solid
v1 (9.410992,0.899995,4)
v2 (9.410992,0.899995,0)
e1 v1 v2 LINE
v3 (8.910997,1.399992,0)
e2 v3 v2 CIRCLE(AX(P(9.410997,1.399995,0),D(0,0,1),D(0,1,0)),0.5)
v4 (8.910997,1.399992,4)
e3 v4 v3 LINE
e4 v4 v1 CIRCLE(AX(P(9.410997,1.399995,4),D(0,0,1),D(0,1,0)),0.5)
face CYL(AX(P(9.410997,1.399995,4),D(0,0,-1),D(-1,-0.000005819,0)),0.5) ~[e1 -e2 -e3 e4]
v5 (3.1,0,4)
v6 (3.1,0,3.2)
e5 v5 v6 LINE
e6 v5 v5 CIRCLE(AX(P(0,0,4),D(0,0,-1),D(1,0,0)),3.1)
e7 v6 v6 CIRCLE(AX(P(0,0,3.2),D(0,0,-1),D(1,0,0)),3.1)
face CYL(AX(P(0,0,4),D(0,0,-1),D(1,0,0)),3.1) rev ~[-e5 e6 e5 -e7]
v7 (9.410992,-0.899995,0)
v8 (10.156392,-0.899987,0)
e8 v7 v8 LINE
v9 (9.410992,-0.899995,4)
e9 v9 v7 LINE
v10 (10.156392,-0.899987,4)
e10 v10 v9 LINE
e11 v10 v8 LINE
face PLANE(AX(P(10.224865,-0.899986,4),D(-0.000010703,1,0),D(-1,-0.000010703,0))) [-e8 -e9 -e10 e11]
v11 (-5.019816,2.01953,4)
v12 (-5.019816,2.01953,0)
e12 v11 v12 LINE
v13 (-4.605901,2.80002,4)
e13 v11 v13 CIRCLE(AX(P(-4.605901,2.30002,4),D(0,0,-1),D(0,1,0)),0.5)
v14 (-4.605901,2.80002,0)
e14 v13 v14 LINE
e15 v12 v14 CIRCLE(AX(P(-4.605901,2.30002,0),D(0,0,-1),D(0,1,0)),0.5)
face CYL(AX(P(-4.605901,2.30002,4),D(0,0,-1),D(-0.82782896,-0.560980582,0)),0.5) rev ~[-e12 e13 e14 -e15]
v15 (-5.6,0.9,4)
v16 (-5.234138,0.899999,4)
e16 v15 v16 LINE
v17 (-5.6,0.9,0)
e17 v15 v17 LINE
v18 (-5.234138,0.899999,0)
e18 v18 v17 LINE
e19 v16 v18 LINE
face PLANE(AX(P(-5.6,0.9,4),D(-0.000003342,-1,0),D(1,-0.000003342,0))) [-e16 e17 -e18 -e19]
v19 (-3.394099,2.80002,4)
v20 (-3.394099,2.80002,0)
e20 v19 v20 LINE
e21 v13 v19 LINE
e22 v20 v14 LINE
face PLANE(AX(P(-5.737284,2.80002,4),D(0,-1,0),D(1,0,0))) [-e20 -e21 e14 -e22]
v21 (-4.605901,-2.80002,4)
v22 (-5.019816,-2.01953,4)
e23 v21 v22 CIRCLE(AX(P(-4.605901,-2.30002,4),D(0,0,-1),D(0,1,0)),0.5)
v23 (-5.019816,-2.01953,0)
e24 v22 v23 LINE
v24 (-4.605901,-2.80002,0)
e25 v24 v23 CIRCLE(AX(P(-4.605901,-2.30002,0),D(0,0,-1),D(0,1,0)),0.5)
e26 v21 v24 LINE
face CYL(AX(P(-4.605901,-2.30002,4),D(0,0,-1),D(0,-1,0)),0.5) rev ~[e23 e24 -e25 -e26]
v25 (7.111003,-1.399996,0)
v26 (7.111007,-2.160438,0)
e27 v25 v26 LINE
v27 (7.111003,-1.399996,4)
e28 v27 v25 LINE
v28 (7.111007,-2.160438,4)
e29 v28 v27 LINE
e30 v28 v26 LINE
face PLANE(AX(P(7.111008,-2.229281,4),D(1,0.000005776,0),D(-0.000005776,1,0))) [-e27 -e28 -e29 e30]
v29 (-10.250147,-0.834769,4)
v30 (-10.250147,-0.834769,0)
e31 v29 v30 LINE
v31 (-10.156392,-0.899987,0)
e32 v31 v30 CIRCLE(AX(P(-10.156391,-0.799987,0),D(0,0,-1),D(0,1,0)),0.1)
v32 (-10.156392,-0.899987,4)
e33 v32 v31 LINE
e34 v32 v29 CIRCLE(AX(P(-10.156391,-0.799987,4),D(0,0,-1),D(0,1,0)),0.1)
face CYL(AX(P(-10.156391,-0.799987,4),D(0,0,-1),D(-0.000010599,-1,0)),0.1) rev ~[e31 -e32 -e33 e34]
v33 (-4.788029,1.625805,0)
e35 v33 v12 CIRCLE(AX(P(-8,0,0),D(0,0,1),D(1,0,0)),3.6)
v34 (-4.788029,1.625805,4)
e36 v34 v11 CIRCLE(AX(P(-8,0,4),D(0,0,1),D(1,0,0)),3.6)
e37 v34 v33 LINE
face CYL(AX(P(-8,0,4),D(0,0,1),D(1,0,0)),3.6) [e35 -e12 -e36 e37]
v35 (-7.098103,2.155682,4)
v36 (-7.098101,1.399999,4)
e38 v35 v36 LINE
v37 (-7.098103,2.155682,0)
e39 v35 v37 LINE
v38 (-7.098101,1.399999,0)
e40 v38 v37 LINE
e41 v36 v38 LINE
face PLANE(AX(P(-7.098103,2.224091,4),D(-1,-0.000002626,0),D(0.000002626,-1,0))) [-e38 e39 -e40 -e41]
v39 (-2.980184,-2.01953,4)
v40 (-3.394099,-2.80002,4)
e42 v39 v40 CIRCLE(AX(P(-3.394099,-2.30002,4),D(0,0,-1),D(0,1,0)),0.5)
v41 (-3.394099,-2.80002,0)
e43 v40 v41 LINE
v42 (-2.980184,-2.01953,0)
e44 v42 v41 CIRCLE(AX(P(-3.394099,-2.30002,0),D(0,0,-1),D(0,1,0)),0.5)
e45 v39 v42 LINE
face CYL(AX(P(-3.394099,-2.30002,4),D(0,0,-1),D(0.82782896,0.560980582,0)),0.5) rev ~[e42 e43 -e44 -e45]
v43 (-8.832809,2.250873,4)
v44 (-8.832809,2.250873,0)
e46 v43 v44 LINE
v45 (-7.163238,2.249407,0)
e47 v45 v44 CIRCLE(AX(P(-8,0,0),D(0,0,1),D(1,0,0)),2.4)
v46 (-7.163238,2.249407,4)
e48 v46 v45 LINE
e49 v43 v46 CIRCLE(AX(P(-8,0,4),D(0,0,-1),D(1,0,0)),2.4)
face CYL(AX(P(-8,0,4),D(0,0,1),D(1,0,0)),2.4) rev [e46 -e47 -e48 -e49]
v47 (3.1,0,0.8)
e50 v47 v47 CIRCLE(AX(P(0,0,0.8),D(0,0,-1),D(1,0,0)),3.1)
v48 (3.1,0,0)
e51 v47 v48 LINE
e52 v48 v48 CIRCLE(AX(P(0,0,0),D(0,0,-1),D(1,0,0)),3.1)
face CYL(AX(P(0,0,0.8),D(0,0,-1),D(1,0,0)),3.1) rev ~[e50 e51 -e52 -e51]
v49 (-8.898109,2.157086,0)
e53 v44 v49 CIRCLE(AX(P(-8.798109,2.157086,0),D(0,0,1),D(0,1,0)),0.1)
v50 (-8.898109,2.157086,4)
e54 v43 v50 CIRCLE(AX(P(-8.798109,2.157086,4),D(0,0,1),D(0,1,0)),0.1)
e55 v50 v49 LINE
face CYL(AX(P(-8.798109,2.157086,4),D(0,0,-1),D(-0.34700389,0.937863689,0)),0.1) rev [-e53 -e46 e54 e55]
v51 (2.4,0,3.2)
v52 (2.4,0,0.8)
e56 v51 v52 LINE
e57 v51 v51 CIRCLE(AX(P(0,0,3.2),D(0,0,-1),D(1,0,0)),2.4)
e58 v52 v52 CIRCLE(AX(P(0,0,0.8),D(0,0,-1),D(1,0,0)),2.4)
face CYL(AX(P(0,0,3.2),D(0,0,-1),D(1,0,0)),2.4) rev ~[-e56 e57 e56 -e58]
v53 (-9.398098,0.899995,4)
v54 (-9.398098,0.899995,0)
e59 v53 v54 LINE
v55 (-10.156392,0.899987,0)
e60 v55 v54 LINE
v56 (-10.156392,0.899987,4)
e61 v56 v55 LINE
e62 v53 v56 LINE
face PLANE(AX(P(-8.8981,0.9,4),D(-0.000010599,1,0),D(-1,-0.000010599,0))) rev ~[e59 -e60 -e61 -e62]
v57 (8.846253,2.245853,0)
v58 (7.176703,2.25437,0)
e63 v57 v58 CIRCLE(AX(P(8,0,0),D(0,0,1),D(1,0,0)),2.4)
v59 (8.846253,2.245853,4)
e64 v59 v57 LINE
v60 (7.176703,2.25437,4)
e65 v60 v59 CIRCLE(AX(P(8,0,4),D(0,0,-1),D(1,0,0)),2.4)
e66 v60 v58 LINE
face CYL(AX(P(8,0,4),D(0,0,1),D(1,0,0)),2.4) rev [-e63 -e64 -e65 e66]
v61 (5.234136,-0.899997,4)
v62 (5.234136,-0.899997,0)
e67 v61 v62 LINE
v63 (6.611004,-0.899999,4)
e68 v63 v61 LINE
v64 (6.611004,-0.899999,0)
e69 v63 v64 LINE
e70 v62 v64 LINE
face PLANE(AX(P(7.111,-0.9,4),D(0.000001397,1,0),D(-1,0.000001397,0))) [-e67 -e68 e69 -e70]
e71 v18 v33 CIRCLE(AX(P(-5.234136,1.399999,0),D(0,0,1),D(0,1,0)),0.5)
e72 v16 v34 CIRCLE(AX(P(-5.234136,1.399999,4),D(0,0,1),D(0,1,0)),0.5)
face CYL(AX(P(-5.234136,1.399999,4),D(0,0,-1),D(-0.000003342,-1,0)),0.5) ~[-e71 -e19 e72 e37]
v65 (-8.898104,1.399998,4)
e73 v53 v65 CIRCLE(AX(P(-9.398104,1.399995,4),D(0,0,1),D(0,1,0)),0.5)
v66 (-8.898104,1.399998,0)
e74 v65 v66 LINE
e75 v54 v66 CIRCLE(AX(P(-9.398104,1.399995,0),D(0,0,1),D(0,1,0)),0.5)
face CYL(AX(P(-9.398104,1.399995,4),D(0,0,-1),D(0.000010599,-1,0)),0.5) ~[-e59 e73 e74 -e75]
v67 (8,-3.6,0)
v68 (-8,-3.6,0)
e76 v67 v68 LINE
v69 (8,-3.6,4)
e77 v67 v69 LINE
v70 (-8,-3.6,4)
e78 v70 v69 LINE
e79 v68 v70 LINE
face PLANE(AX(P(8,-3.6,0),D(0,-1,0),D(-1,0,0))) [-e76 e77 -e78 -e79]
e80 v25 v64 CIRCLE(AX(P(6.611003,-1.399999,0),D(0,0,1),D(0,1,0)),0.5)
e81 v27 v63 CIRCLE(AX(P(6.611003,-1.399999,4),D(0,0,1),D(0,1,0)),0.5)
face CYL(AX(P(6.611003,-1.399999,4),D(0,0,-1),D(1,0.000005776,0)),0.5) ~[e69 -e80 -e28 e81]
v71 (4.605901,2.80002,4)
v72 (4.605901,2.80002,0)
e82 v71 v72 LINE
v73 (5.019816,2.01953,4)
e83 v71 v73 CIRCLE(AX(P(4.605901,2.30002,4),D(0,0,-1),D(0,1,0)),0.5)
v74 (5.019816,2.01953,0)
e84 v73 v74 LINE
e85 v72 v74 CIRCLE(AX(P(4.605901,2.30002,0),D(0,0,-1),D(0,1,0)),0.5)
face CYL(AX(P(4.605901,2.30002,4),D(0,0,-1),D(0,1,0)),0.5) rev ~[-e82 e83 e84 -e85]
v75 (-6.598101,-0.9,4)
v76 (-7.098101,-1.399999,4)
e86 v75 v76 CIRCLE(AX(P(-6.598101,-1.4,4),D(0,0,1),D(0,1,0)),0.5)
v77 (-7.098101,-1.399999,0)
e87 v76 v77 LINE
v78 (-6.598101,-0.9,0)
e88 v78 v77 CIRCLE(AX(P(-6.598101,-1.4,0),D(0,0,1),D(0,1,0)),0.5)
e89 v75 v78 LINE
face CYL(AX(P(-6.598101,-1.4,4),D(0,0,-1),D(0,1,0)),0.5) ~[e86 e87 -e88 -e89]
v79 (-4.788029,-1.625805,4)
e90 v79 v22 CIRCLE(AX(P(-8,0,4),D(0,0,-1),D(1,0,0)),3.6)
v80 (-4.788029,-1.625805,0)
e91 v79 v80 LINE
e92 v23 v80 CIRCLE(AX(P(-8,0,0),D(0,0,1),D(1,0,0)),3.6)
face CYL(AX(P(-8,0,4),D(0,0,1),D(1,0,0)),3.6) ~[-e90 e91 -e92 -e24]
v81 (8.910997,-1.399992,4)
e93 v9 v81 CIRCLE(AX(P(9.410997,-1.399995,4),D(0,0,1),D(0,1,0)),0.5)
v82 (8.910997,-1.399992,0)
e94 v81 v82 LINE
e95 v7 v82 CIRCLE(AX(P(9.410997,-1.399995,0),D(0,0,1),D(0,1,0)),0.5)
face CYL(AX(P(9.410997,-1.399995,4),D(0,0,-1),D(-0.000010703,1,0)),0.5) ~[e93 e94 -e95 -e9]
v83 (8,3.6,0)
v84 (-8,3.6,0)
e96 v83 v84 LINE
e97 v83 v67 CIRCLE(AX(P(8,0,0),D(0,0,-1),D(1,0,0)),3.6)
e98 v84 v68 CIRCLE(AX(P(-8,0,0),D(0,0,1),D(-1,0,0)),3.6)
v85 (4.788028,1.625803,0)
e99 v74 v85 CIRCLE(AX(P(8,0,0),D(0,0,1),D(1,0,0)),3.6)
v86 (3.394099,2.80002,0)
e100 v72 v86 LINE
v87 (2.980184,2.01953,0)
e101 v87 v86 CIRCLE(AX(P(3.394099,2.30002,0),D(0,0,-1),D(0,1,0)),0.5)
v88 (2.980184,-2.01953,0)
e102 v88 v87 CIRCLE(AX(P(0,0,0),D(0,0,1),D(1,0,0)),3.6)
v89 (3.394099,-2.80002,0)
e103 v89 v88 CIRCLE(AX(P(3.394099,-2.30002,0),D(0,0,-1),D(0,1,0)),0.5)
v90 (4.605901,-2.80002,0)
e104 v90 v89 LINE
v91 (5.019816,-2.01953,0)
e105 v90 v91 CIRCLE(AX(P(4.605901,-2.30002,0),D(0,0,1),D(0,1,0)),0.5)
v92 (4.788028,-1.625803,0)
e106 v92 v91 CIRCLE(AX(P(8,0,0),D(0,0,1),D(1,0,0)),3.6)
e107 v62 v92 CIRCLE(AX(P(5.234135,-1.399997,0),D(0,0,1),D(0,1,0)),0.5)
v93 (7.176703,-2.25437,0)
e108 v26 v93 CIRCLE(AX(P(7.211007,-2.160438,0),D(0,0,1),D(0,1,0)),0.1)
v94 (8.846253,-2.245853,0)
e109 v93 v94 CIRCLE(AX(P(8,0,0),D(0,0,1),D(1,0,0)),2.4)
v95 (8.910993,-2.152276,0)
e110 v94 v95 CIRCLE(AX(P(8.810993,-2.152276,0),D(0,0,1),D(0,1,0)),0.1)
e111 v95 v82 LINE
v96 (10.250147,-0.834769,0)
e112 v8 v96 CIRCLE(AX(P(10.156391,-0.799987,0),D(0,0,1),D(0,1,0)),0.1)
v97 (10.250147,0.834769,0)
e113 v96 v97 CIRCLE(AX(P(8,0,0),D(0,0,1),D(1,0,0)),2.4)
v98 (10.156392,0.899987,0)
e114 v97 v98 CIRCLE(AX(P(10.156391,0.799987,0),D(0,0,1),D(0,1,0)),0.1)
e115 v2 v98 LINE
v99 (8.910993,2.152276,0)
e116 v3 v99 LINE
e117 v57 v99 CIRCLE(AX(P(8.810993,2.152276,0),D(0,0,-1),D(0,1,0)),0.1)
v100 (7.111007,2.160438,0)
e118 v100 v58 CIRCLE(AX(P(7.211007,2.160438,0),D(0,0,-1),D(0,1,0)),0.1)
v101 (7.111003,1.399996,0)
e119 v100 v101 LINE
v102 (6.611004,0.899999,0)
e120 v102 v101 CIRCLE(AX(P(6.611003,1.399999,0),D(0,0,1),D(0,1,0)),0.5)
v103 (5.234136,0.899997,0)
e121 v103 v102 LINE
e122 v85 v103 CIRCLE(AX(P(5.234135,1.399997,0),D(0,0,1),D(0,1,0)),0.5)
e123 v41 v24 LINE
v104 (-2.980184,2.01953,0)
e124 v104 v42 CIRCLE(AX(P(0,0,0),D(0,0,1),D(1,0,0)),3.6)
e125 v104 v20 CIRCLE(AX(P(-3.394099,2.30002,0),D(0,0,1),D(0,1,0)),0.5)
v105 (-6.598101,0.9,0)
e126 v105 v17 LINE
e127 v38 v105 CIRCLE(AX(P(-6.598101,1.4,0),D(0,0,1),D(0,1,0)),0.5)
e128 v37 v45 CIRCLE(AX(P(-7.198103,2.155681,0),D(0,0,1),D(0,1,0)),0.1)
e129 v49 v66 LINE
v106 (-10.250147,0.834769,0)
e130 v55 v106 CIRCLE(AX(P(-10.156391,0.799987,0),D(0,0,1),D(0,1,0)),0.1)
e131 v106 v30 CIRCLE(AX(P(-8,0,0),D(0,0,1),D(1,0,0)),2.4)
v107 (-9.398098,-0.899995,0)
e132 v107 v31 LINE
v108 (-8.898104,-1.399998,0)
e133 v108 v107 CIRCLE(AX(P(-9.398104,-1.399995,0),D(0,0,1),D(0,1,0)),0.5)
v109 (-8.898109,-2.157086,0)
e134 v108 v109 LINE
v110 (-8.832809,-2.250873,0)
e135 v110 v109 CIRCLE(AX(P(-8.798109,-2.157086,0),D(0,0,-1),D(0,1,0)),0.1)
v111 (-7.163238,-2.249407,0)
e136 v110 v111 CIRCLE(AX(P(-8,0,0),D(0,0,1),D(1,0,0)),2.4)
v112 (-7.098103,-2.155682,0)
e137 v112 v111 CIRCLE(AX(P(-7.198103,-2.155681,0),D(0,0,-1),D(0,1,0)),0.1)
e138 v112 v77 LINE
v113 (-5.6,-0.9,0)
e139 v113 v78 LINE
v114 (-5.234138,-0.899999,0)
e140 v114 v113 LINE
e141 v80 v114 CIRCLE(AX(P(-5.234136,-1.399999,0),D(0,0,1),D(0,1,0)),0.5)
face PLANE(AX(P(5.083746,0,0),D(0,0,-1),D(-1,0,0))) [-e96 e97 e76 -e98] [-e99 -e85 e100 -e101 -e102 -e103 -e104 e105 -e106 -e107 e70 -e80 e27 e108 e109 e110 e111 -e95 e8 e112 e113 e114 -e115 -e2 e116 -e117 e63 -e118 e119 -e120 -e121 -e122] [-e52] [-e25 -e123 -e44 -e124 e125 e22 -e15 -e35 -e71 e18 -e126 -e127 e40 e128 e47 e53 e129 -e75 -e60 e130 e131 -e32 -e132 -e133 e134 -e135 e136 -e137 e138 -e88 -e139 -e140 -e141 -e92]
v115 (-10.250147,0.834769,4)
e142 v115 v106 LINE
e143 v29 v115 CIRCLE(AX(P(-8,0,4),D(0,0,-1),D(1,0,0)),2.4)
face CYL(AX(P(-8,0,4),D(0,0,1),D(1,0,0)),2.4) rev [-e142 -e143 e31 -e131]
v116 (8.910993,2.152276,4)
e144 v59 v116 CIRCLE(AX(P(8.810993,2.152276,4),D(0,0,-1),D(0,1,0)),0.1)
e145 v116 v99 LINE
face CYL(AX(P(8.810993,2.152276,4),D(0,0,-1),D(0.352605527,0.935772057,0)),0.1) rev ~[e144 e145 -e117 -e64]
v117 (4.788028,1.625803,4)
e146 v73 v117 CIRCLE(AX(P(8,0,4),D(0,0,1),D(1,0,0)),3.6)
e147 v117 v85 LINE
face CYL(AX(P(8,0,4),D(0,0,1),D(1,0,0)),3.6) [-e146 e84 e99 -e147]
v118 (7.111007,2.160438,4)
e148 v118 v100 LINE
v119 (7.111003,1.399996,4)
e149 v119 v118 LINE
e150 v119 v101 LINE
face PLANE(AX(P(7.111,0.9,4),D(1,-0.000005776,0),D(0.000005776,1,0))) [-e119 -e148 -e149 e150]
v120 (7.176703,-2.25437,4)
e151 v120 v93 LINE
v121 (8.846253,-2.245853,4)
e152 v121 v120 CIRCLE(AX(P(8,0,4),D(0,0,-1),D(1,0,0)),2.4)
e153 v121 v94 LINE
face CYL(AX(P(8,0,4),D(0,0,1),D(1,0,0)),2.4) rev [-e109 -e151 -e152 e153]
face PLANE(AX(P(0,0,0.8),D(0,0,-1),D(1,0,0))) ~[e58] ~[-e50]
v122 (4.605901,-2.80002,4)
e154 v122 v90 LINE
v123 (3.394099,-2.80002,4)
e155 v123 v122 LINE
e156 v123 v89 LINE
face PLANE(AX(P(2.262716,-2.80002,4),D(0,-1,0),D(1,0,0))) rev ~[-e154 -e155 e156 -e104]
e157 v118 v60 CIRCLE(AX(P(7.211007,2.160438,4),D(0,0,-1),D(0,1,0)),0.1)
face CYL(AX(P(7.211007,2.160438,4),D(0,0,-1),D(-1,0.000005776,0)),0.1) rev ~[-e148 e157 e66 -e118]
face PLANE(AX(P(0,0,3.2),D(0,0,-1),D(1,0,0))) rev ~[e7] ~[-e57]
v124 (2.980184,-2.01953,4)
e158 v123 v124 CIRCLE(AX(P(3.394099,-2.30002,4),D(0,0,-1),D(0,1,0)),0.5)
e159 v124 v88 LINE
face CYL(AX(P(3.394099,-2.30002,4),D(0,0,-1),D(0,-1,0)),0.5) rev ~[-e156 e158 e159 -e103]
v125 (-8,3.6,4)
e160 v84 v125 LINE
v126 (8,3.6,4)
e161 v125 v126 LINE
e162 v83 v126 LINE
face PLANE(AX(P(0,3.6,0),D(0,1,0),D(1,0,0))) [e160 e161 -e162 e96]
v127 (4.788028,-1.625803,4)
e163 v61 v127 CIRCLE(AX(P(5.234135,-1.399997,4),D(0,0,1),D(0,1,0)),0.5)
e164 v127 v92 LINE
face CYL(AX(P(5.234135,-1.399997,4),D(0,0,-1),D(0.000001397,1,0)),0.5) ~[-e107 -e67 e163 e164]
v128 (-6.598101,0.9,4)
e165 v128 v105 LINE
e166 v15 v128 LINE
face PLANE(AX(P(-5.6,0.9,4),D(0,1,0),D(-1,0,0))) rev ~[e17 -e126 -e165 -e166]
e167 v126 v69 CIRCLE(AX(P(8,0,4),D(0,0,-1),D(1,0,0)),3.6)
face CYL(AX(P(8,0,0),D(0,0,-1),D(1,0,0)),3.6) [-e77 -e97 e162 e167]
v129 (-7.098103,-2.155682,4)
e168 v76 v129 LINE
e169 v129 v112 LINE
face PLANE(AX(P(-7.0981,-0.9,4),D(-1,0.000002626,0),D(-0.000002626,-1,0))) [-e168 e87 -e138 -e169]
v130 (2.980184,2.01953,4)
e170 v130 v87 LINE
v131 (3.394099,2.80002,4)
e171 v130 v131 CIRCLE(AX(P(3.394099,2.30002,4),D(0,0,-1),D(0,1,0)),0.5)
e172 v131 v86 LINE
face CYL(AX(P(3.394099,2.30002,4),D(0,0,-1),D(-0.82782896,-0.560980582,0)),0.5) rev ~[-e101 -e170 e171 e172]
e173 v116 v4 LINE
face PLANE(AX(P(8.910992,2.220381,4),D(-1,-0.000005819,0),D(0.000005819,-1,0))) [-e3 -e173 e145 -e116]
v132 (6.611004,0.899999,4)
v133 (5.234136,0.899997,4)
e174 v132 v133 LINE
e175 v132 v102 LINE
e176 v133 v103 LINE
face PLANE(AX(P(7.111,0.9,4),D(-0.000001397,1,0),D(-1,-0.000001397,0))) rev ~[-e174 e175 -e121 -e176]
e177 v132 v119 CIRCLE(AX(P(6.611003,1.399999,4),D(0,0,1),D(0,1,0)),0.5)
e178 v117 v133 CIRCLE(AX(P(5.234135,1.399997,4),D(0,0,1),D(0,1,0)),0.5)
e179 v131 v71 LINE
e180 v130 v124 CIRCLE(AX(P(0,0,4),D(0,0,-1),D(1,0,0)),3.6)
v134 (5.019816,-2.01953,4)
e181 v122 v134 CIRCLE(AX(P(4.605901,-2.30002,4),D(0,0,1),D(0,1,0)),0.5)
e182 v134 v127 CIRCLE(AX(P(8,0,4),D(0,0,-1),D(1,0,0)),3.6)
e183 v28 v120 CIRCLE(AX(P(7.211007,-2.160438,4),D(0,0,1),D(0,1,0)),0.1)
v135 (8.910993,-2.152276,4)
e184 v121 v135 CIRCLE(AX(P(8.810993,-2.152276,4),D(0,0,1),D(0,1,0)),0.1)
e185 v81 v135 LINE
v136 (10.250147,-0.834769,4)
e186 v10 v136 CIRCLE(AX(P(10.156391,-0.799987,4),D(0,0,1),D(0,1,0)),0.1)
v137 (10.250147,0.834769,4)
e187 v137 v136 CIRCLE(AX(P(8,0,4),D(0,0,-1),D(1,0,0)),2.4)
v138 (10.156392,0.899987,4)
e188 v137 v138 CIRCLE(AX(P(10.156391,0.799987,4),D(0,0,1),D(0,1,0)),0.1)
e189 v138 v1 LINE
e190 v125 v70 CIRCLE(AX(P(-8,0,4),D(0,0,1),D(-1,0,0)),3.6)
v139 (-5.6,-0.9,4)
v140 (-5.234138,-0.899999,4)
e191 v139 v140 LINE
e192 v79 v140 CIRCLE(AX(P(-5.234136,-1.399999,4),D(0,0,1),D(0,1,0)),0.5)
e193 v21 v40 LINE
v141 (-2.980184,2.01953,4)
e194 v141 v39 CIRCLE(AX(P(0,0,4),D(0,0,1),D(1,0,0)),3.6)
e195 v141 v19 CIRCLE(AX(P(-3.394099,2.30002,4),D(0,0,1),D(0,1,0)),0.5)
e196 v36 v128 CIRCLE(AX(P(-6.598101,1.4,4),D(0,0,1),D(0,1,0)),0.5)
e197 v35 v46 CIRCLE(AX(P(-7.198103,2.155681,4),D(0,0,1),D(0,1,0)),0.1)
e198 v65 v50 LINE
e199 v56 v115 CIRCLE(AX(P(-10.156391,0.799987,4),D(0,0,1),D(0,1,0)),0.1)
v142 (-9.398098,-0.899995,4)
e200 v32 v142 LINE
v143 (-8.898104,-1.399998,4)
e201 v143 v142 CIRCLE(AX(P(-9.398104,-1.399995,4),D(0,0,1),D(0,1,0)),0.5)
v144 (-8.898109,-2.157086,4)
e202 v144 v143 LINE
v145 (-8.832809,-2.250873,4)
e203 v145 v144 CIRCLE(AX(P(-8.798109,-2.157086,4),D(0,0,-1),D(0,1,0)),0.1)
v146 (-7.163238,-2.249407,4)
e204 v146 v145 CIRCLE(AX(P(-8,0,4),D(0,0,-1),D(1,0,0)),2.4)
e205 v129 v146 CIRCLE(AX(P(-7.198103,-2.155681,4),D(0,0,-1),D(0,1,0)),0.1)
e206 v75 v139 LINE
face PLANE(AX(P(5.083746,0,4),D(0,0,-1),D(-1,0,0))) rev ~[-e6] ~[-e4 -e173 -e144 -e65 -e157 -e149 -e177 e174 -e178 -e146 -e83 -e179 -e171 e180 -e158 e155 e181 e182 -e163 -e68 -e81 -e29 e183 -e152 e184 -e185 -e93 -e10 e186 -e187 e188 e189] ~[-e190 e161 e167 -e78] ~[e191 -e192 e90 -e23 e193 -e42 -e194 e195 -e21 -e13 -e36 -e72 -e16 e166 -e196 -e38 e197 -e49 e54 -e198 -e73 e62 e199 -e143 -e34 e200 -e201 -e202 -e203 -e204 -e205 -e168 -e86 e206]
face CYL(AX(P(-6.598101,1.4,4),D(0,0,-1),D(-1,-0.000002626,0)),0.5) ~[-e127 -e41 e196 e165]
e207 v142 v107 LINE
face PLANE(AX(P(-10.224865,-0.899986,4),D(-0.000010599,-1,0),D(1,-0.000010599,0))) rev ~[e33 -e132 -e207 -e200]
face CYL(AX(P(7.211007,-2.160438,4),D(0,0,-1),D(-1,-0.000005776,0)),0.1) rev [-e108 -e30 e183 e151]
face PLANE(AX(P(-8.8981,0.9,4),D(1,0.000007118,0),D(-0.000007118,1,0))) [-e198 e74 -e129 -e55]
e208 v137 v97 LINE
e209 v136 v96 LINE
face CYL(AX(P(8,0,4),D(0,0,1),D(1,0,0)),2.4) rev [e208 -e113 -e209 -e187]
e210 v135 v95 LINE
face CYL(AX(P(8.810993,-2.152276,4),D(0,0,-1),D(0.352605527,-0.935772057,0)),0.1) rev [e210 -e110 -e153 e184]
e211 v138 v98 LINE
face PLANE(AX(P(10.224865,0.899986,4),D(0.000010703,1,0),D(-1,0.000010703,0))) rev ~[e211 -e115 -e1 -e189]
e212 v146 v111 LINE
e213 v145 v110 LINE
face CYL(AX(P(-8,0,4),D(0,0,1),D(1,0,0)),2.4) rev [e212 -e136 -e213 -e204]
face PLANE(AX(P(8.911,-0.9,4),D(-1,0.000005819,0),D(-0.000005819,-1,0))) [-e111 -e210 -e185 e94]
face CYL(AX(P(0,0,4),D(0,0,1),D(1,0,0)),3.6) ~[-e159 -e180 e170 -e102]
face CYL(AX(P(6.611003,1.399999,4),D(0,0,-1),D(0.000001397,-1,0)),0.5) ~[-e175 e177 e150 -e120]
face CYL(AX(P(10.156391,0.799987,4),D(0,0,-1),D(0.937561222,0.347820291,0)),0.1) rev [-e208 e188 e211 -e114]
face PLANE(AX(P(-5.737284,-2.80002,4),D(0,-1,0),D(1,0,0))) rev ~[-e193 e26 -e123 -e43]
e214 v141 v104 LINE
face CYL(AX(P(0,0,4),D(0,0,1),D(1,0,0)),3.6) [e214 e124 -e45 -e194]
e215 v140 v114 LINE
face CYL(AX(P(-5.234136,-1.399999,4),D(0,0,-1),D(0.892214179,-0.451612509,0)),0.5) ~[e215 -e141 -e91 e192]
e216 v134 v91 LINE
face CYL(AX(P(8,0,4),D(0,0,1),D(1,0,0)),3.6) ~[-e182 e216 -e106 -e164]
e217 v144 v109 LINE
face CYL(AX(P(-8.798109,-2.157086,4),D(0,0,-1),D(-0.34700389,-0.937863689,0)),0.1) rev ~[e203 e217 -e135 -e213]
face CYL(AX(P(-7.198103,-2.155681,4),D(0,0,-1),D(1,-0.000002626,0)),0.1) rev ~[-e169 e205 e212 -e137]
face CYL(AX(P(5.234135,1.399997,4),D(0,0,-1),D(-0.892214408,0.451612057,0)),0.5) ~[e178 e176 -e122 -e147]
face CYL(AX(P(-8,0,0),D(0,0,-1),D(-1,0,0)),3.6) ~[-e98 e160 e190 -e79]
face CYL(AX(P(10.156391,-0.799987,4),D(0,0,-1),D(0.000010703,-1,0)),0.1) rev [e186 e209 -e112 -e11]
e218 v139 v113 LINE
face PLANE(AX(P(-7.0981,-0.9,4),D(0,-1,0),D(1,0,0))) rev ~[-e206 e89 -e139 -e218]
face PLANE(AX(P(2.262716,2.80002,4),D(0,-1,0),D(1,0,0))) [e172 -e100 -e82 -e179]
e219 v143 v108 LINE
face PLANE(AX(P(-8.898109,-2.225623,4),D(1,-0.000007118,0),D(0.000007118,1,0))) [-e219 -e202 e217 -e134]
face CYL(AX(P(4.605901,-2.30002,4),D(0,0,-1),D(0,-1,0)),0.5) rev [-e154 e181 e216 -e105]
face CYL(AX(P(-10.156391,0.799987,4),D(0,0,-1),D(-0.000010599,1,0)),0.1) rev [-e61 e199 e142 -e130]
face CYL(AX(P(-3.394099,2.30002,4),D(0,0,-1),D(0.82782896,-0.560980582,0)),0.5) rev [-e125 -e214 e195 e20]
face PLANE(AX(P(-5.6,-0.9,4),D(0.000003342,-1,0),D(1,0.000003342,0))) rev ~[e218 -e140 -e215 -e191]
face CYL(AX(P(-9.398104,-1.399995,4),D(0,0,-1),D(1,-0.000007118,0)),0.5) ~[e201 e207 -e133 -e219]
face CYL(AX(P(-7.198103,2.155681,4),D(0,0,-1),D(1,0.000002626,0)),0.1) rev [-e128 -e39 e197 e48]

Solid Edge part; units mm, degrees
sketch "Sketch1" plane through (0, 0, 0) normal (0, 0, 1) x (1, 0, 0)
  line L0 (0, 0) -> (0, 3.6)
  line L1 (0, 3.6) -> (8, 3.6)
  line L2 (8, -3.6) -> (0, -3.6)
  line L3 (0, -3.6) -> (0, 0)
  arc A0 (8, 3.6) -> (8, -3.6) centre (8, 0) cw
extrude "ExtrudedProtrusion_1" add sketch "Sketch1" along normal blind 4
mirror "Mirror1" about plane through (0, 0, 0) normal (-1, 0, 0) of "ExtrudedProtrusion_1"
sketch "Sketch2" plane through (0, 0, 0) normal (0, -1, 0) x (1, 0, 0)
  line L0 (0, 0) -> (0, 4)
  line L1 (0, 4) -> (3.1, 4)
  line L2 (3.1, 4) -> (3.1, 3.2)
  line L3 (3.1, 3.2) -> (2.4, 3.2)
  line L4 (2.4, 3.2) -> (2.4, 0.8)
  line L5 (2.4, 0.8) -> (3.1, 0.8)
  line L6 (3.1, 0.8) -> (3.1, 0)
  line L7 (3.1, 0) -> (0, 0)
revolve "RevolvedCutout1" cut sketch "Sketch2" angle 360 about axis through (0, 0, 54) along (0, 0, -1)
sketch "Sketch3" plane through (0, 0, 4) normal (0, 0, 1) x (1, 0, 0)
  line L0 (-5.7373, 2.8) -> (-2.2627, 2.8)
  line L1 (-5.7373, -2.8) -> (-2.2627, -2.8)
  arc A0 (-4.5143, -0.9) -> (-5.7373, -2.8) centre (-8, 0) cw
  line L2 (-5.6, -0.9) -> (-4.5143, -0.9)
  line L3 (-7.0981, -0.9) -> (-5.6, -0.9)
  line L4 (-7.0981, -0.9) -> (-7.0981, -2.2241)
  arc A1 (-7.0981, -2.2241) -> (-8.8981, -2.2256) centre (-8, 0) cw
  line L5 (-8.8981, -2.2256) -> (-8.8981, -0.9)
  line L6 (-10.2249, -0.9) -> (-8.8981, -0.9)
  arc A2 (-10.2249, -0.9) -> (-10.2249, 0.9) centre (-8, 0) cw
  line L7 (-8.8981, 0.9) -> (-10.2249, 0.9)
  line L8 (-8.8981, 0.9) -> (-8.8981, 2.2256)
  line L9 (-7.0981, 2.2241) -> (-7.0981, 0.9)
  line L10 (-5.6, 0.9) -> (-7.0981, 0.9)
  line L11 (-5.6, 0.9) -> (-4.5143, 0.9)
  arc A3 (-4.5143, 0.9) -> (-5.7373, 2.8) centre (-8, 0) ccw
  arc A4 (-8.8981, 2.2256) -> (-7.0981, 2.2241) centre (-8, 0) cw
  arc A5 (-2.2627, 2.8) -> (-2.2627, -2.8) centre (0, 0) ccw
  line L12 (2.2627, -2.8) -> (5.7373, -2.8)
  arc A6 (5.7373, -2.8) -> (4.5143, -0.9) centre (8, 0) cw
  line L13 (7.111, -0.9) -> (4.5143, -0.9)
  line L14 (7.111, -2.2293) -> (7.111, -0.9)
  arc A7 (8.911, -2.2204) -> (7.111, -2.2293) centre (8, 0) cw
  line L15 (8.911, -0.9) -> (8.911, -2.2204)
  line L16 (10.2249, -0.9) -> (8.911, -0.9)
  arc A8 (10.2249, 0.9) -> (10.2249, -0.9) centre (8, 0) cw
  line L17 (10.2249, 0.9) -> (8.911, 0.9)
  line L18 (8.911, 2.2204) -> (8.911, 0.9)
  line L19 (7.111, 0.9) -> (7.111, 2.2293)
  line L20 (7.111, 0.9) -> (4.5143, 0.9)
  line L21 (2.2627, 2.8) -> (5.7373, 2.8)
  arc A9 (2.2627, 2.8) -> (2.2627, -2.8) centre (0, 0) cw
  arc A10 (5.7373, 2.8) -> (4.5143, 0.9) centre (8, 0) ccw
  arc A11 (7.111, 2.2293) -> (8.911, 2.2204) centre (8, 0) cw
  dimension "D1" = 0.8
  dimension "D2" = 0.8
  dimension "D3" = 0.8
extrude "ExtrudedCutout_1" cut sketch "Sketch3" against normal blind 30
fillet "Round_1" radius 0.5 20 edges at (-5.7373, 2.8, 2) (-2.2627, 2.8, 2) (5.7373, 2.8, 2) (-7.0981, 0.9, 2) (-8.8981, 0.9, 2) (-8.8981, -0.9, 2) (-7.0981, -0.9, 2) (-4.5143, -0.9, 2) (-4.5143, 0.9, 2) (-2.2627, -2.8, 2) (-5.7373, -2.8, 2) (7.111, -0.9, 2) (7.111, 0.9, 2) (8.911, 0.9, 2) (8.911, -0.9, 2) (4.5143, 0.9, 2) (4.5143, -0.9, 2) (2.2627, -2.8, 2) (5.7373, -2.8, 2) (2.2627, 2.8, 2)
fillet "Round_2" radius 0.1 12 edges at (-8.8981, 2.2256, 2) (-7.0981, 2.2241, 2) (-10.2249, 0.9, 2) (-10.2249, -0.9, 2) (-8.8981, -2.2256, 2) (-7.0981, -2.2241, 2) (8.911, -2.2204, 2) (10.2249, -0.9, 2) (10.2249, 0.9, 2) (8.911, 2.2204, 2) (7.111, -2.2293, 2) (7.111, 2.2293, 2)
